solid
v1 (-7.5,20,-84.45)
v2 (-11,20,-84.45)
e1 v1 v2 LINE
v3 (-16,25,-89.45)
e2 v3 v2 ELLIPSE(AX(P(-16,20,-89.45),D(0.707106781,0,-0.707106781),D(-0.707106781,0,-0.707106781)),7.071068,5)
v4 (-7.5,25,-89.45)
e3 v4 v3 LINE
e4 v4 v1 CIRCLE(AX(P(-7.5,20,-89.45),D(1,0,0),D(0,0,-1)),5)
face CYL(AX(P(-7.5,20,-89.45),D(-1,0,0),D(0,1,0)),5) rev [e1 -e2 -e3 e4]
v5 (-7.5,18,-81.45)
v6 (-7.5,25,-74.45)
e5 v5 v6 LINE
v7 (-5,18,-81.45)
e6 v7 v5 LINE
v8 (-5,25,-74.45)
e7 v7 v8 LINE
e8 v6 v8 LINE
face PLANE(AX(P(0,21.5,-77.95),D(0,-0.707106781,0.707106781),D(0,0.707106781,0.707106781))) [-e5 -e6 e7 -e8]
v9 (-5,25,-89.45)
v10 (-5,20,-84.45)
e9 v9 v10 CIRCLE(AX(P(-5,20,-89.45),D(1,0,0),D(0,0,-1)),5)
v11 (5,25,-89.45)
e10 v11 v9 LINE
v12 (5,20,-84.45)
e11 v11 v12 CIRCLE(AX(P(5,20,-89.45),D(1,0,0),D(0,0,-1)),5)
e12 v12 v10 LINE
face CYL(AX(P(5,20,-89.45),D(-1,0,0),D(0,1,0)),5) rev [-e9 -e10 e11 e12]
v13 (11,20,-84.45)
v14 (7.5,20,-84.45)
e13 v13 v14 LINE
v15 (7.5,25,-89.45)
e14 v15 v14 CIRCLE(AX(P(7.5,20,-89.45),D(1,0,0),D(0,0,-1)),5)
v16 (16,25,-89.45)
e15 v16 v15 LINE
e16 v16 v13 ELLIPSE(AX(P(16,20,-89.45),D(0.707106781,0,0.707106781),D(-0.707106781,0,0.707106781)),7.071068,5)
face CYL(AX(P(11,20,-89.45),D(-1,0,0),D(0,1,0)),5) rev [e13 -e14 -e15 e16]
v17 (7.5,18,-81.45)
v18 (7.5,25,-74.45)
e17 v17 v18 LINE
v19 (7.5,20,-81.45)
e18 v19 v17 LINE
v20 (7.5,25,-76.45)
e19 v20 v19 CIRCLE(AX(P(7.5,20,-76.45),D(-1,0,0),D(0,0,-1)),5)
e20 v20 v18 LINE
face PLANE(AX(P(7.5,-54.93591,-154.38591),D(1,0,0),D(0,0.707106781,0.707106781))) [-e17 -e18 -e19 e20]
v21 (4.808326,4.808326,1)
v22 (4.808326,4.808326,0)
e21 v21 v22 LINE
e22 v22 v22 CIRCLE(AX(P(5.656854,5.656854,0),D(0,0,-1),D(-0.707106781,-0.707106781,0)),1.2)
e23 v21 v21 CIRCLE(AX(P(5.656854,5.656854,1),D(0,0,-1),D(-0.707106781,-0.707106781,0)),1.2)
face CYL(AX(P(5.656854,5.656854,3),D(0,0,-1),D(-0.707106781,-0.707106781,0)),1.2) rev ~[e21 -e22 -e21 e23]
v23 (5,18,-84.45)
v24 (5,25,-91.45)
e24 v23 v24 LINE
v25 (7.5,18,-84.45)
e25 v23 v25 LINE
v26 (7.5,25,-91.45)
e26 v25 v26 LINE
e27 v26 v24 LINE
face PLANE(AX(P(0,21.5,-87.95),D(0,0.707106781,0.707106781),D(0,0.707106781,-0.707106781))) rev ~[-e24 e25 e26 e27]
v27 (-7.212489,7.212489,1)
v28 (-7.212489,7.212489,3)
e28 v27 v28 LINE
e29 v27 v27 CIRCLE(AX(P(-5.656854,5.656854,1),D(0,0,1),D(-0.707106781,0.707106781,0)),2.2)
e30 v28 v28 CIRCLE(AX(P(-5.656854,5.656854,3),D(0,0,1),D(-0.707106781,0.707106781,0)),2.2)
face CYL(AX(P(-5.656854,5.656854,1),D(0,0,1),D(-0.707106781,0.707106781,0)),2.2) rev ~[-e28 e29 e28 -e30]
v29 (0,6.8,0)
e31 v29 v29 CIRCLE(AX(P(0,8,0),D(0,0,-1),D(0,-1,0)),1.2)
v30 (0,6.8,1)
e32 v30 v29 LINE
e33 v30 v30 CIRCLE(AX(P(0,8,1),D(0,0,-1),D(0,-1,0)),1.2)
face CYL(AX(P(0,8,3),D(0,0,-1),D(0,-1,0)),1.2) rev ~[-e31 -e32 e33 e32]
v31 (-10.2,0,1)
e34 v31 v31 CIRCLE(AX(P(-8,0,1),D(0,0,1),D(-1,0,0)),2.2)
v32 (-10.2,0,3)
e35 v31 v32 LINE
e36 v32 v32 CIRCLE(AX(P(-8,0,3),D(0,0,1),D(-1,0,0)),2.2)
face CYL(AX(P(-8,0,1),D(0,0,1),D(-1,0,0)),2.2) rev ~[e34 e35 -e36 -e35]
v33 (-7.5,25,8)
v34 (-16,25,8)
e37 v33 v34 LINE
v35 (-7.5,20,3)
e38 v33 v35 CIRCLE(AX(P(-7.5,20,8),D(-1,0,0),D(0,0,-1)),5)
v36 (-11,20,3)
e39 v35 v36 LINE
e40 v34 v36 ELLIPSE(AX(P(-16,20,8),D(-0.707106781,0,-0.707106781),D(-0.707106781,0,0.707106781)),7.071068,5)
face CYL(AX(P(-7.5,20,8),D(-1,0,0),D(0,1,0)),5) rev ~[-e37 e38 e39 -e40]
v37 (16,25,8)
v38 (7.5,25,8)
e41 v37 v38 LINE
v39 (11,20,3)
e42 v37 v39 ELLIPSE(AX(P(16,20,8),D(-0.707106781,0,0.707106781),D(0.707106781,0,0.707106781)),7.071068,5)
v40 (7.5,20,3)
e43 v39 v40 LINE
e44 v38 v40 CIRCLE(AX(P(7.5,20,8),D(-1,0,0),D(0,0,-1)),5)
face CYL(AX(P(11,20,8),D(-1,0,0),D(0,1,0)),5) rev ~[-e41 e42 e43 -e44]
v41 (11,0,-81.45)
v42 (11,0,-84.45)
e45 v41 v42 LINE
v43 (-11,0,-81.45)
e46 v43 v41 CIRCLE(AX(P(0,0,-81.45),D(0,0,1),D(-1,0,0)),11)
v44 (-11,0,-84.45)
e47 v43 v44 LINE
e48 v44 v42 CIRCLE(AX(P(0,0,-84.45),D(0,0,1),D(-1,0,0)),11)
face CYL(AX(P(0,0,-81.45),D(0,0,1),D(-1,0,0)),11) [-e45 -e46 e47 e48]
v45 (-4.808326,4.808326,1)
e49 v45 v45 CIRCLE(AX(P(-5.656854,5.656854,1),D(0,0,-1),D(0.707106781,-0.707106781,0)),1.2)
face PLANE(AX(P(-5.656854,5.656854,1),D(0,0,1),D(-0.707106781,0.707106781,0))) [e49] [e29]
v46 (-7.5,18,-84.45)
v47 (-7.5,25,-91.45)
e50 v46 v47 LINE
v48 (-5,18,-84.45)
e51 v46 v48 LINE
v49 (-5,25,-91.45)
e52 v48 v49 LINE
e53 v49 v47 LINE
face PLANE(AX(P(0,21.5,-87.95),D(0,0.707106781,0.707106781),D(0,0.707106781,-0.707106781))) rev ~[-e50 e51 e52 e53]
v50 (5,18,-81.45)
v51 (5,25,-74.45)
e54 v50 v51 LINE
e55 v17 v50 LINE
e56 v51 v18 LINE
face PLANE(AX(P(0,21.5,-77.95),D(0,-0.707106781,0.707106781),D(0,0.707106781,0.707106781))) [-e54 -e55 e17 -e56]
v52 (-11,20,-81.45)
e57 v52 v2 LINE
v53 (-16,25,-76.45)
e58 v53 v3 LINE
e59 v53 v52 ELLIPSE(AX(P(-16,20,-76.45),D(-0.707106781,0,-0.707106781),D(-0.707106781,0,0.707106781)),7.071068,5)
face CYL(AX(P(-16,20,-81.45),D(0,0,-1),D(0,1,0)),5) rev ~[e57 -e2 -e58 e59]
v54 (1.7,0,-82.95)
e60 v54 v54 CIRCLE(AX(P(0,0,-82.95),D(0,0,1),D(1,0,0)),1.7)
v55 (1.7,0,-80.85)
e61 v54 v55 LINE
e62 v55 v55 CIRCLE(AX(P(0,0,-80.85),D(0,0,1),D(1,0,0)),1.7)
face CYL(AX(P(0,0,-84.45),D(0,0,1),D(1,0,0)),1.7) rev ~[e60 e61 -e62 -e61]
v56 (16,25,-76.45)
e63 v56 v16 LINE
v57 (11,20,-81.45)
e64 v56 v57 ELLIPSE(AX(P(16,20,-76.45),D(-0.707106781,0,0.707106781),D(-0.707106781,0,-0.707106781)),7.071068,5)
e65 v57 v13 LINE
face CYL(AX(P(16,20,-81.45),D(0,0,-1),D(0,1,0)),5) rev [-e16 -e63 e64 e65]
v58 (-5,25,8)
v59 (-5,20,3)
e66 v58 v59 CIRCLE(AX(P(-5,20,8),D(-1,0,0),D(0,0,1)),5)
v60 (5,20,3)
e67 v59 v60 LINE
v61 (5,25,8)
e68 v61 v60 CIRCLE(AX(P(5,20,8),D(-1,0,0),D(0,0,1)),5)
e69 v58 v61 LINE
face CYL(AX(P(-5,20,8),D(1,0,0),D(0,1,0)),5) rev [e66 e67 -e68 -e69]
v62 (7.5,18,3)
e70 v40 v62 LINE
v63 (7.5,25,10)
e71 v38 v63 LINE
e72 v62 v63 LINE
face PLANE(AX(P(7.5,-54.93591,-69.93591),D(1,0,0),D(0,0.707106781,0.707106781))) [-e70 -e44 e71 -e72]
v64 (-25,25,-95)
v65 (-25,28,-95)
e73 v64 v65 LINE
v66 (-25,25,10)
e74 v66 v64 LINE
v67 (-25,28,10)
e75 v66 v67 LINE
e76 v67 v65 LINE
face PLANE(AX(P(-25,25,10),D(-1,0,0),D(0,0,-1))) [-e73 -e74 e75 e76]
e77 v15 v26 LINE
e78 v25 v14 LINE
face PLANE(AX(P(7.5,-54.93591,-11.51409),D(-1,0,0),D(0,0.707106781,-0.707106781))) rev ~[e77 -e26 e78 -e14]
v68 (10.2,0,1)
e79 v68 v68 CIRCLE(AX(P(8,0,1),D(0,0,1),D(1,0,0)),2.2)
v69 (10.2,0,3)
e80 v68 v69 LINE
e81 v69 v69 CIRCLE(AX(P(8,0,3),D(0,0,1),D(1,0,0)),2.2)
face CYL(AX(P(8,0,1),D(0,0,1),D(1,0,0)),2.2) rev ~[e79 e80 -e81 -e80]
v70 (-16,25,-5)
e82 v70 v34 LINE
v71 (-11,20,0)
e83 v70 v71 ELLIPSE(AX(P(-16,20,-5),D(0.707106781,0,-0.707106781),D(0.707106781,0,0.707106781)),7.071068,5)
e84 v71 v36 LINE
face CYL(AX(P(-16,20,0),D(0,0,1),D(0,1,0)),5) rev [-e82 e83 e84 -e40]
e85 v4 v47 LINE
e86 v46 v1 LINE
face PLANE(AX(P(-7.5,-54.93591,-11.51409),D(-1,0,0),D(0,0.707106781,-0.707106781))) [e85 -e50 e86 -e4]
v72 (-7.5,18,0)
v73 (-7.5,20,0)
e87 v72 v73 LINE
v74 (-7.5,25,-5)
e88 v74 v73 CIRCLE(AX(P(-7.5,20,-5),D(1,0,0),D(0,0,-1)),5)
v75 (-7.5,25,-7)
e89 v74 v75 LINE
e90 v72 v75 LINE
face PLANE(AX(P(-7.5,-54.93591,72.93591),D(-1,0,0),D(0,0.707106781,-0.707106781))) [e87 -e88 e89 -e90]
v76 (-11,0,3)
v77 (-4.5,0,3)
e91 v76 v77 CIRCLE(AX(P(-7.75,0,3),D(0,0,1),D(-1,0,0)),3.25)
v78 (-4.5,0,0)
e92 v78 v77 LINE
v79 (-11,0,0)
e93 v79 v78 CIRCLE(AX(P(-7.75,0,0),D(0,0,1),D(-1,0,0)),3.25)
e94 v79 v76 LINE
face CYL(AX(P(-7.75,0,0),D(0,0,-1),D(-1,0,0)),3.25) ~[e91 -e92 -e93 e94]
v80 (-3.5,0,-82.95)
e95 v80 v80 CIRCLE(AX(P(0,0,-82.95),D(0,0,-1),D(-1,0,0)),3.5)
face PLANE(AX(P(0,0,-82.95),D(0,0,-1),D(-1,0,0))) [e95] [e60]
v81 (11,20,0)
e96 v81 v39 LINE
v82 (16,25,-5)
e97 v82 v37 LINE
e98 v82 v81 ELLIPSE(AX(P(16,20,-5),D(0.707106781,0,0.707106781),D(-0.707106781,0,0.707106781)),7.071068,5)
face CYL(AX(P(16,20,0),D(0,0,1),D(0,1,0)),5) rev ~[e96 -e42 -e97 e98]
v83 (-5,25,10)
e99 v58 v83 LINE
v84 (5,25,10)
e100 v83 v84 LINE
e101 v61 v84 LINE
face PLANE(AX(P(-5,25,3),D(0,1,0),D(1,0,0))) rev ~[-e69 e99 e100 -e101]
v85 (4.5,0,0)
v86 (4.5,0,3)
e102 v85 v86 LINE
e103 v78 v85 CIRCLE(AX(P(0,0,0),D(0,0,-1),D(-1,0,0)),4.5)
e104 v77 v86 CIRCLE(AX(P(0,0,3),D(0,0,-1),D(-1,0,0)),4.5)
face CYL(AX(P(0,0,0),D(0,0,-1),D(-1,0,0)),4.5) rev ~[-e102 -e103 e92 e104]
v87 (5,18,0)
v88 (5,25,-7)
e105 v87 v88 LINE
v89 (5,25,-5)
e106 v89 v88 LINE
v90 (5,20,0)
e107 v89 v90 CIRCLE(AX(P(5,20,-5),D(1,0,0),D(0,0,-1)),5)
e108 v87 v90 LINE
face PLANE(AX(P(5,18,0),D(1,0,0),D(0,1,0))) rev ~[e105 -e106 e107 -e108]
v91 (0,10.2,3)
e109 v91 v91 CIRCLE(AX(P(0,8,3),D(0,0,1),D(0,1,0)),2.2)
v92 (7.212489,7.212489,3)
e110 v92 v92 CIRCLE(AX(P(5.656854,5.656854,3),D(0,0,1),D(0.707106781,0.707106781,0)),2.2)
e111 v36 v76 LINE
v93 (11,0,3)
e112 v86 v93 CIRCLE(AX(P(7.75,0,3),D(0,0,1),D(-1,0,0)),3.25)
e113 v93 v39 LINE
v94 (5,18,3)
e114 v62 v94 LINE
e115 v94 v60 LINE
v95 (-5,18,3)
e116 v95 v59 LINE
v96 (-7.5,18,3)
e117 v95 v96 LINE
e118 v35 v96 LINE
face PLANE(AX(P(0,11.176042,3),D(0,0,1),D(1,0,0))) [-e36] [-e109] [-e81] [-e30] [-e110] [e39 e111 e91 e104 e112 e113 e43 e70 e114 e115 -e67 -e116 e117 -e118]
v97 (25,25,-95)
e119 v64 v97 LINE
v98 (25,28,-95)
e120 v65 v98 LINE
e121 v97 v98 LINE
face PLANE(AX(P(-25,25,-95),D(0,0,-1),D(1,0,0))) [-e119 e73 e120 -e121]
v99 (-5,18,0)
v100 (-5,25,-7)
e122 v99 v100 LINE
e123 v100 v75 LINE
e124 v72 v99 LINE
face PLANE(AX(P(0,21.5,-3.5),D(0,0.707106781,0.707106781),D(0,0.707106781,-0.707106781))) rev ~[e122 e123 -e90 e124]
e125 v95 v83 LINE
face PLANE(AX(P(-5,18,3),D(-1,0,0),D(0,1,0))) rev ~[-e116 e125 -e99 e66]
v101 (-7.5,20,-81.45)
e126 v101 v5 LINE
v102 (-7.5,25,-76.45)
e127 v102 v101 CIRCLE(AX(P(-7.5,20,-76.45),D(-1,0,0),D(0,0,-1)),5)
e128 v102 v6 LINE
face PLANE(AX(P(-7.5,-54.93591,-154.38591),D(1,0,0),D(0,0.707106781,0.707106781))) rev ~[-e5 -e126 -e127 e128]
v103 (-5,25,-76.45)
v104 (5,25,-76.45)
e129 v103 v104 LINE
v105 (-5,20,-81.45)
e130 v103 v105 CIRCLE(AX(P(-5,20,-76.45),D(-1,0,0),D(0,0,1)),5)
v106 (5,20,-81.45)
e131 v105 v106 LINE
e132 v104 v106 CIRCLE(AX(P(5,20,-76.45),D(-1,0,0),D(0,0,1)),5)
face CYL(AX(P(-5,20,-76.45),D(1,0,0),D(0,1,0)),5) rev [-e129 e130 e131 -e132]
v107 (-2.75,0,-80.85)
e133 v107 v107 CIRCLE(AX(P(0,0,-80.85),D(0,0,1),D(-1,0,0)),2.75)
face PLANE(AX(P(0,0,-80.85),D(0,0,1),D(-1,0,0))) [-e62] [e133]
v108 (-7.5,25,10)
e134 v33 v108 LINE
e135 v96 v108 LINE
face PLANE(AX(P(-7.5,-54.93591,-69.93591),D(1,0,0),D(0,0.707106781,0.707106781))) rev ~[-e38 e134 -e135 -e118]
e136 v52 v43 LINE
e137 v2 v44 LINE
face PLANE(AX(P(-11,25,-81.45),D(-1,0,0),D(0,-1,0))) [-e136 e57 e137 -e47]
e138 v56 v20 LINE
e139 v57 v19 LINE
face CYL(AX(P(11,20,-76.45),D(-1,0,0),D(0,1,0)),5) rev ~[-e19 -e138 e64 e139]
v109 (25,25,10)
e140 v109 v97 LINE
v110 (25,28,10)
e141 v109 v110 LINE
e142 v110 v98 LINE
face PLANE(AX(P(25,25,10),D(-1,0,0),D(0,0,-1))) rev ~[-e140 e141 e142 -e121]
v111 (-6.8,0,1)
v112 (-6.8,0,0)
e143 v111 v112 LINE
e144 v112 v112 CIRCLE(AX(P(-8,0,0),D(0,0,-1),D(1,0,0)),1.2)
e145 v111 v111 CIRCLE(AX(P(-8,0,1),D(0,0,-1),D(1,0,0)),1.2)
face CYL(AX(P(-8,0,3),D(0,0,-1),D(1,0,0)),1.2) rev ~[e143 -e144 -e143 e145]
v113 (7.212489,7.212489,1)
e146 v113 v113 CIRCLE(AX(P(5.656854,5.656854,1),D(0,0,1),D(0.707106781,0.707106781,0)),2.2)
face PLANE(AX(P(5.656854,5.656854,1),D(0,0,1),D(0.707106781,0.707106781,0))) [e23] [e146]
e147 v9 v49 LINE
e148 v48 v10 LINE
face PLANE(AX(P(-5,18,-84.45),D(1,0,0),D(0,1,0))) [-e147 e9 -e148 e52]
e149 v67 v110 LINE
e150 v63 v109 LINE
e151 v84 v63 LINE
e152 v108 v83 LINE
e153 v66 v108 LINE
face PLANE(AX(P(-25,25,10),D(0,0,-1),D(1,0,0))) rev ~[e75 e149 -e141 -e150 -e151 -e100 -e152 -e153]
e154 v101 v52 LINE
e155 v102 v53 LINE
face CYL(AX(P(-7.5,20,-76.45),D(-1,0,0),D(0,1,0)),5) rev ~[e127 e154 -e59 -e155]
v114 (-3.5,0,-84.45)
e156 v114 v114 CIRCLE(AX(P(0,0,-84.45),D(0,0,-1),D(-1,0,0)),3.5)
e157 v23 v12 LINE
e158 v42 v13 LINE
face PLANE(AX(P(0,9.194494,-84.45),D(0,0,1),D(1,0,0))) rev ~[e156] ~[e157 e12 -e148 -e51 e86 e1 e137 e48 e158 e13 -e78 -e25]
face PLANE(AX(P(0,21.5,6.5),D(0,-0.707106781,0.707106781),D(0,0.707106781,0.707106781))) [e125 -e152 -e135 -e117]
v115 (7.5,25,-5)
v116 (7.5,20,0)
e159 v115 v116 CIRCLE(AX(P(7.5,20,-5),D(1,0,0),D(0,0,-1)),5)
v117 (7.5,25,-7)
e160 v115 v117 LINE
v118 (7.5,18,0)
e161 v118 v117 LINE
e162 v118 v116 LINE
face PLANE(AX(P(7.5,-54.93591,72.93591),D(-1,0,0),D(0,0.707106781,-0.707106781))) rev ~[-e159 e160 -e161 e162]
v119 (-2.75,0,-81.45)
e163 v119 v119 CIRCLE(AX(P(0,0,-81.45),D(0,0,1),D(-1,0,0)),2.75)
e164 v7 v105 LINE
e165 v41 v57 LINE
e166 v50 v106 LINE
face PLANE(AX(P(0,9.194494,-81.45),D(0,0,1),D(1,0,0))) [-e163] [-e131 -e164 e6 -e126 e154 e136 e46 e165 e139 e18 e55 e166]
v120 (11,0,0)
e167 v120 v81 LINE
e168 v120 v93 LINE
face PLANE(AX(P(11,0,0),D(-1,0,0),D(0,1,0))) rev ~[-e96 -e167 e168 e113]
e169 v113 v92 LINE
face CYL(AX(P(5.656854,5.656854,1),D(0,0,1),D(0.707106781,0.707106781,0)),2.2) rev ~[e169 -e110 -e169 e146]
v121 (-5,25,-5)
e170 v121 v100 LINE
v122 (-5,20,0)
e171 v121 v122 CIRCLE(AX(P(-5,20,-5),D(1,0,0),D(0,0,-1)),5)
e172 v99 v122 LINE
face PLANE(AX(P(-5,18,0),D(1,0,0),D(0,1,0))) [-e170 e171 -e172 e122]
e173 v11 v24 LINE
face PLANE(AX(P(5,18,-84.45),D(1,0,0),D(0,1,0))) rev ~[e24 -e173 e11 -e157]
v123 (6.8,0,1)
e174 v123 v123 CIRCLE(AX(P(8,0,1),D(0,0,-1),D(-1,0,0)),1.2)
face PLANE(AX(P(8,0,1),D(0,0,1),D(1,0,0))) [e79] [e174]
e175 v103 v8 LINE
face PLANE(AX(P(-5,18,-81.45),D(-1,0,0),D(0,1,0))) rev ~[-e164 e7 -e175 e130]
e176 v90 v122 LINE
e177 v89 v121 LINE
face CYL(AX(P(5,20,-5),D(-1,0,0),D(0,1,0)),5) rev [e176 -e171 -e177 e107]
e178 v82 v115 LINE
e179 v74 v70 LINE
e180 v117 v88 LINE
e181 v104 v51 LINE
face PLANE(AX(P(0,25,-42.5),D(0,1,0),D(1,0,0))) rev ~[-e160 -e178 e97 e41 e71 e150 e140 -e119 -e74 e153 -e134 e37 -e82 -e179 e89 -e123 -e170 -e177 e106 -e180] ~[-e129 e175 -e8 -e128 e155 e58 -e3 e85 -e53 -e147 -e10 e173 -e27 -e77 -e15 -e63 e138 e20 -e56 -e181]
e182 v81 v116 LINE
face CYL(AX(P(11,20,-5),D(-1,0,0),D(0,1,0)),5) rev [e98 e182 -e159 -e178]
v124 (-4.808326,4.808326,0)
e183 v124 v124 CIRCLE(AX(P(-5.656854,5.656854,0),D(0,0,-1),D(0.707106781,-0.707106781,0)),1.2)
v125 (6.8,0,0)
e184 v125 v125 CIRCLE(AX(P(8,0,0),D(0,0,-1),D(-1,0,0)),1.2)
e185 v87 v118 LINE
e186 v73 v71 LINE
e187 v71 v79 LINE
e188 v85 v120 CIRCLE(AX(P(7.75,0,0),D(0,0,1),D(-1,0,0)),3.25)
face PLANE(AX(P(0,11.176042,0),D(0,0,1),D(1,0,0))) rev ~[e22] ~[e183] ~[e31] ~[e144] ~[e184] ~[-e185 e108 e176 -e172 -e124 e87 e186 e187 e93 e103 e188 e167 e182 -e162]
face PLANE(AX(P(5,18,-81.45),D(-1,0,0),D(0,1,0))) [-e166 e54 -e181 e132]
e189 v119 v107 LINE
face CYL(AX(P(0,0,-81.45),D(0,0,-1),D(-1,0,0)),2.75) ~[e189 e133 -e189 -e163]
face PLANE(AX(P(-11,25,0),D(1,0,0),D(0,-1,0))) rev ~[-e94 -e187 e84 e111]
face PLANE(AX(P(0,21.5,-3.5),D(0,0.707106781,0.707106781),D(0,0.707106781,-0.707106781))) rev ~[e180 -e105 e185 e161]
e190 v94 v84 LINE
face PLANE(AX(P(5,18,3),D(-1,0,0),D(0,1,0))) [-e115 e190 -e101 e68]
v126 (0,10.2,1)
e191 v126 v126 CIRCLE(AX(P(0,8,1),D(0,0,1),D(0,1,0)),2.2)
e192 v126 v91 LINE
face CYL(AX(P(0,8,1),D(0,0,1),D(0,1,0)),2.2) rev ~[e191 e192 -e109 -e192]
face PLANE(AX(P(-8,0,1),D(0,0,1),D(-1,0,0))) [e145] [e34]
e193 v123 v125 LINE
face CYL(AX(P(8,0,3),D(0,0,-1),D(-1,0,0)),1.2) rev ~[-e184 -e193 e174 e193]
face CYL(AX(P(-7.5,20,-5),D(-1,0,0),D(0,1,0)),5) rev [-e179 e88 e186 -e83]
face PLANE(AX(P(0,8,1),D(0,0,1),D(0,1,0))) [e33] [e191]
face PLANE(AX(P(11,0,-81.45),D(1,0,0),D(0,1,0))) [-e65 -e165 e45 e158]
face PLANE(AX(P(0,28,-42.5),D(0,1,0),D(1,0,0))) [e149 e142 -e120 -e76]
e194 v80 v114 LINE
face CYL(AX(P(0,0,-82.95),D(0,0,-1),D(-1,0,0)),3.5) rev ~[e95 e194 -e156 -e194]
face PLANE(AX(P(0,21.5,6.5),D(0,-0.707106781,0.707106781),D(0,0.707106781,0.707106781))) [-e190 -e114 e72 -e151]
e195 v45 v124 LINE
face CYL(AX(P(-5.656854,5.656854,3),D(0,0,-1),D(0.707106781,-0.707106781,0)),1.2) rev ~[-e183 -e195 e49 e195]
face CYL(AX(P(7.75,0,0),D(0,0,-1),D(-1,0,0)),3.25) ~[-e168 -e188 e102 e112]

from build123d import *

# Parameters (mm, degrees)
RESSALTO_EXTRUS_O1_DEPTH                            = 3
ESBO_O2_W                                           = 50
ESBO_O2_H                                           = 105
RESSALTO_EXTRUS_O2_DEPTH                            = 3
RESSALTO_EXTRUS_O3_DEPTH                            = 3
REBAIXO_PARA_SHCS_M21_D                             = 2.4
REBAIXO_PARA_SHCS_M21_DEPTH                         = 3
REBAIXO_PARA_SHCS_M21_CBORE_D                       = 4.4
REBAIXO_PARA_SHCS_M21_CBORE_DEPTH                   = 2
PADR_OCIRCULAR1_COUNT                               = 5
PADR_OCIRCULAR1_ANGLE                               = 180
NERVURA1_REACH                                      = 104.147
ESBO_O6_WALL_W                                      = 216.193400866
ESBO_O6_WALL_H                                      = 15
CORTE_EXTRUS_O1_REACH                               = 106.943
ESBO_O7_W                                           = 10
ESBO_O7_H                                           = 7
NERVURA7_REACH                                      = 104.147
ESBO_O8_WALL_W                                      = 216.193400866
ESBO_O8_WALL_H                                      = 15
CORTE_EXTRUS_O2_REACH                               = 104.147
ESBO_O9_W                                           = 10
ESBO_O9_H                                           = 7
PADR_O_LINEAR1_COUNT                                = 2
PADR_O_LINEAR1_PITCH                                = 84.45
ESBO_O10_R                                          = 2.75
RESSALTO_EXTRUS_O4_DEPTH                            = 0.6
REBAIXO_PARA_PARAFUSO_COM_CABE_A_PANELA_D           = 3.4
REBAIXO_PARA_PARAFUSO_COM_CABE_A_PANELA_CBORE_D     = 7
REBAIXO_PARA_PARAFUSO_COM_CABE_A_PANELA_CBORE_DEPTH = 1.5
FILETE1_R                                           = 5


with BuildPart() as part:
    # Esboço1 → Ressalto-extrusão1 (new body)
    with BuildSketch(Plane.XY):
        with BuildLine():
            Line((11, 0), (11, 25))
            Line((11, 25), (-11, 25))
            Line((-11, 25), (-11, 0))
            ThreePointArc((-11, 0), (-7.75, -3.25), (-4.5, 0))
            ThreePointArc((-4.5, 0), (0, 4.5), (4.5, 0))
            ThreePointArc((4.5, 0), (7.75, -3.25), (11, 0))
        make_face()
    extrude(amount=RESSALTO_EXTRUS_O1_DEPTH)

    # Esboço2 → Ressalto-extrusão2 (add)
    with BuildSketch(Plane(origin=(0, 25, 0), x_dir=(1, 0, 0), z_dir=(0, 1, 0))):
        with Locations((0, 42.5)):
            Rectangle(ESBO_O2_W, ESBO_O2_H)
    extrude(amount=RESSALTO_EXTRUS_O2_DEPTH)

    # Esboço3 → Ressalto-extrusão3 (add)
    with BuildSketch(Plane(origin=(0, 0, -81.45), x_dir=(-1, 0, 0), z_dir=(0, 0, -1))):
        with BuildLine():
            Line((-11, 0), (-11, 25))
            Line((-11, 25), (11, 25))
            Line((11, 25), (11, 0))
            ThreePointArc((11, 0), (0, -11), (-11, 0))
        make_face()
    extrude(amount=RESSALTO_EXTRUS_O3_DEPTH)

    # Rebaixo para SHCS M21
    with Locations(Plane.XY.offset(3)):
        with Locations((8, 0)):
            rebaixo_para_shcs_m21 = CounterBoreHole(REBAIXO_PARA_SHCS_M21_D / 2, REBAIXO_PARA_SHCS_M21_CBORE_D / 2, REBAIXO_PARA_SHCS_M21_CBORE_DEPTH, depth=REBAIXO_PARA_SHCS_M21_DEPTH)

    # PadrãoCircular1: Rebaixo para SHCS M21 ×5 about axis
    padr_ocircular1_axis = Axis((0, 0, 0), (0, 0, 1))
    for i in range(1, PADR_OCIRCULAR1_COUNT):
        add(rebaixo_para_shcs_m21.rotate(padr_ocircular1_axis, i * PADR_OCIRCULAR1_ANGLE / (PADR_OCIRCULAR1_COUNT - 1)), mode=Mode.SUBTRACT)

    # Esboço6 wall → Nervura1 (add, up to next)
    with BuildSketch(Plane(origin=(0, 21.5, 6.5), x_dir=(0, 0.707106781187, 0.707106781187), z_dir=(0, -0.707106781187, 0.707106781187)), mode=Mode.PRIVATE) as nervura1_sk1:
        Rectangle(ESBO_O6_WALL_W, ESBO_O6_WALL_H)
    nervura1_tool1 = extrude(nervura1_sk1.sketch, amount=-NERVURA1_REACH, mode=Mode.PRIVATE) - part.part
    nervura1 = nervura1_tool1.solids().sort_by_distance((0, 21.5, 6.5))[0]
    add(nervura1)

    # Corte-extrusão1: up to this face of the body (flat: up to its plane)
    corte_extrus_o1_end = Plane(part.part.faces().sort_by_distance((0, 21.5, 6.5))[0])
    # Esboço7 → Corte-extrusão1 (cut, up to the picked face)
    with BuildSketch(Plane.XY.offset(3), mode=Mode.PRIVATE) as corte_extrus_o1_sk1:
        with Locations((0, 21.5)):
            Rectangle(ESBO_O7_W, ESBO_O7_H)
    corte_extrus_o1_tool1 = split(extrude(corte_extrus_o1_sk1.sketch, amount=CORTE_EXTRUS_O1_REACH, mode=Mode.PRIVATE), bisect_by=corte_extrus_o1_end, keep=Keep.BOTH, mode=Mode.PRIVATE)
    corte_extrus_o1 = corte_extrus_o1_tool1.solids().sort_by(Axis((0, 21.5, 3), (0, 0, 1)))[0]
    add(corte_extrus_o1, mode=Mode.SUBTRACT)

    # Esboço8 wall → Nervura7 (add, up to next)
    with BuildSketch(Plane(origin=(0, 21.5, -3.5), x_dir=(0, 0.707106781187, -0.707106781187), z_dir=(0, 0.707106781187, 0.707106781187)), mode=Mode.PRIVATE) as nervura7_sk1:
        Rectangle(ESBO_O8_WALL_W, ESBO_O8_WALL_H)
    nervura7_tool1 = extrude(nervura7_sk1.sketch, amount=NERVURA7_REACH, mode=Mode.PRIVATE) - part.part
    nervura7 = nervura7_tool1.solids().sort_by_distance((0, 21.5, -3.5))[0]
    add(nervura7)

    # Corte-extrusão2: up to this face of the body (flat: up to its plane)
    corte_extrus_o2_end = Plane(part.part.faces().sort_by_distance((0, 21.5, -3.5))[0])
    # Esboço9 → Corte-extrusão2 (cut, up to the picked face)
    with BuildSketch(Plane(origin=(0, 0, 0), x_dir=(-1, 0, 0), z_dir=(0, 0, -1)), mode=Mode.PRIVATE) as corte_extrus_o2_sk1:
        with Locations((0, 21.5)):
            Rectangle(ESBO_O9_W, ESBO_O9_H)
    corte_extrus_o2_tool1 = split(extrude(corte_extrus_o2_sk1.sketch, amount=CORTE_EXTRUS_O2_REACH, mode=Mode.PRIVATE), bisect_by=corte_extrus_o2_end, keep=Keep.BOTH, mode=Mode.PRIVATE)
    corte_extrus_o2 = corte_extrus_o2_tool1.solids().sort_by(Axis((0, 21.5, 0), (0, 0, -1)))[0]
    add(corte_extrus_o2, mode=Mode.SUBTRACT)

    # Padrão linear1: Nervura1, Corte-extrusão1, Nervura7, Corte-extrusão2 ×2
    with Locations(*[(0, 0, -i * PADR_O_LINEAR1_PITCH) for i in range(1, PADR_O_LINEAR1_COUNT)]):
        add(nervura1)
        add(corte_extrus_o1, mode=Mode.SUBTRACT)
        add(nervura7)
        add(corte_extrus_o2, mode=Mode.SUBTRACT)

    # Esboço10 → Ressalto-extrusão4 (add)
    with BuildSketch(Plane.XY.offset(-81.45)):
        with Locations(Location((0, 0, 0), (0, 0, 180))):
            Circle(ESBO_O10_R)
    extrude(amount=RESSALTO_EXTRUS_O4_DEPTH)

    # Rebaixo para parafuso com cabeça panela de M31 (through all)
    with Locations(Plane(origin=(0, 0, -84.45), x_dir=(-1, 0, 0), z_dir=(0, 0, -1))):
        with Locations((0, 0)):
            CounterBoreHole(REBAIXO_PARA_PARAFUSO_COM_CABE_A_PANELA_D / 2, REBAIXO_PARA_PARAFUSO_COM_CABE_A_PANELA_CBORE_D / 2, REBAIXO_PARA_PARAFUSO_COM_CABE_A_PANELA_CBORE_DEPTH)

    # Filete1
    filete1_edges = [part.edges().sort_by_distance(p)[0] for p in [
        (-11, 25, 1.5),
        (11, 25, 1.5),
        (0, 25, 3),
        (9.25, 25, 3),
        (-9.25, 25, 0),
        (0, 25, 0),
        (9.25, 25, -81.45),
        (0, 25, -81.45),
        (9.25, 25, -84.45),
        (0, 25, -84.45),
        (-9.25, 25, -81.45),
        (-11, 25, -82.95),
        (11, 25, -82.95),
        (-9.25, 25, -84.45),
        (9.25, 25, 0),
        (-9.25, 25, 3),
    ]]
    fillet(filete1_edges, radius=FILETE1_R)


solid = part.part
